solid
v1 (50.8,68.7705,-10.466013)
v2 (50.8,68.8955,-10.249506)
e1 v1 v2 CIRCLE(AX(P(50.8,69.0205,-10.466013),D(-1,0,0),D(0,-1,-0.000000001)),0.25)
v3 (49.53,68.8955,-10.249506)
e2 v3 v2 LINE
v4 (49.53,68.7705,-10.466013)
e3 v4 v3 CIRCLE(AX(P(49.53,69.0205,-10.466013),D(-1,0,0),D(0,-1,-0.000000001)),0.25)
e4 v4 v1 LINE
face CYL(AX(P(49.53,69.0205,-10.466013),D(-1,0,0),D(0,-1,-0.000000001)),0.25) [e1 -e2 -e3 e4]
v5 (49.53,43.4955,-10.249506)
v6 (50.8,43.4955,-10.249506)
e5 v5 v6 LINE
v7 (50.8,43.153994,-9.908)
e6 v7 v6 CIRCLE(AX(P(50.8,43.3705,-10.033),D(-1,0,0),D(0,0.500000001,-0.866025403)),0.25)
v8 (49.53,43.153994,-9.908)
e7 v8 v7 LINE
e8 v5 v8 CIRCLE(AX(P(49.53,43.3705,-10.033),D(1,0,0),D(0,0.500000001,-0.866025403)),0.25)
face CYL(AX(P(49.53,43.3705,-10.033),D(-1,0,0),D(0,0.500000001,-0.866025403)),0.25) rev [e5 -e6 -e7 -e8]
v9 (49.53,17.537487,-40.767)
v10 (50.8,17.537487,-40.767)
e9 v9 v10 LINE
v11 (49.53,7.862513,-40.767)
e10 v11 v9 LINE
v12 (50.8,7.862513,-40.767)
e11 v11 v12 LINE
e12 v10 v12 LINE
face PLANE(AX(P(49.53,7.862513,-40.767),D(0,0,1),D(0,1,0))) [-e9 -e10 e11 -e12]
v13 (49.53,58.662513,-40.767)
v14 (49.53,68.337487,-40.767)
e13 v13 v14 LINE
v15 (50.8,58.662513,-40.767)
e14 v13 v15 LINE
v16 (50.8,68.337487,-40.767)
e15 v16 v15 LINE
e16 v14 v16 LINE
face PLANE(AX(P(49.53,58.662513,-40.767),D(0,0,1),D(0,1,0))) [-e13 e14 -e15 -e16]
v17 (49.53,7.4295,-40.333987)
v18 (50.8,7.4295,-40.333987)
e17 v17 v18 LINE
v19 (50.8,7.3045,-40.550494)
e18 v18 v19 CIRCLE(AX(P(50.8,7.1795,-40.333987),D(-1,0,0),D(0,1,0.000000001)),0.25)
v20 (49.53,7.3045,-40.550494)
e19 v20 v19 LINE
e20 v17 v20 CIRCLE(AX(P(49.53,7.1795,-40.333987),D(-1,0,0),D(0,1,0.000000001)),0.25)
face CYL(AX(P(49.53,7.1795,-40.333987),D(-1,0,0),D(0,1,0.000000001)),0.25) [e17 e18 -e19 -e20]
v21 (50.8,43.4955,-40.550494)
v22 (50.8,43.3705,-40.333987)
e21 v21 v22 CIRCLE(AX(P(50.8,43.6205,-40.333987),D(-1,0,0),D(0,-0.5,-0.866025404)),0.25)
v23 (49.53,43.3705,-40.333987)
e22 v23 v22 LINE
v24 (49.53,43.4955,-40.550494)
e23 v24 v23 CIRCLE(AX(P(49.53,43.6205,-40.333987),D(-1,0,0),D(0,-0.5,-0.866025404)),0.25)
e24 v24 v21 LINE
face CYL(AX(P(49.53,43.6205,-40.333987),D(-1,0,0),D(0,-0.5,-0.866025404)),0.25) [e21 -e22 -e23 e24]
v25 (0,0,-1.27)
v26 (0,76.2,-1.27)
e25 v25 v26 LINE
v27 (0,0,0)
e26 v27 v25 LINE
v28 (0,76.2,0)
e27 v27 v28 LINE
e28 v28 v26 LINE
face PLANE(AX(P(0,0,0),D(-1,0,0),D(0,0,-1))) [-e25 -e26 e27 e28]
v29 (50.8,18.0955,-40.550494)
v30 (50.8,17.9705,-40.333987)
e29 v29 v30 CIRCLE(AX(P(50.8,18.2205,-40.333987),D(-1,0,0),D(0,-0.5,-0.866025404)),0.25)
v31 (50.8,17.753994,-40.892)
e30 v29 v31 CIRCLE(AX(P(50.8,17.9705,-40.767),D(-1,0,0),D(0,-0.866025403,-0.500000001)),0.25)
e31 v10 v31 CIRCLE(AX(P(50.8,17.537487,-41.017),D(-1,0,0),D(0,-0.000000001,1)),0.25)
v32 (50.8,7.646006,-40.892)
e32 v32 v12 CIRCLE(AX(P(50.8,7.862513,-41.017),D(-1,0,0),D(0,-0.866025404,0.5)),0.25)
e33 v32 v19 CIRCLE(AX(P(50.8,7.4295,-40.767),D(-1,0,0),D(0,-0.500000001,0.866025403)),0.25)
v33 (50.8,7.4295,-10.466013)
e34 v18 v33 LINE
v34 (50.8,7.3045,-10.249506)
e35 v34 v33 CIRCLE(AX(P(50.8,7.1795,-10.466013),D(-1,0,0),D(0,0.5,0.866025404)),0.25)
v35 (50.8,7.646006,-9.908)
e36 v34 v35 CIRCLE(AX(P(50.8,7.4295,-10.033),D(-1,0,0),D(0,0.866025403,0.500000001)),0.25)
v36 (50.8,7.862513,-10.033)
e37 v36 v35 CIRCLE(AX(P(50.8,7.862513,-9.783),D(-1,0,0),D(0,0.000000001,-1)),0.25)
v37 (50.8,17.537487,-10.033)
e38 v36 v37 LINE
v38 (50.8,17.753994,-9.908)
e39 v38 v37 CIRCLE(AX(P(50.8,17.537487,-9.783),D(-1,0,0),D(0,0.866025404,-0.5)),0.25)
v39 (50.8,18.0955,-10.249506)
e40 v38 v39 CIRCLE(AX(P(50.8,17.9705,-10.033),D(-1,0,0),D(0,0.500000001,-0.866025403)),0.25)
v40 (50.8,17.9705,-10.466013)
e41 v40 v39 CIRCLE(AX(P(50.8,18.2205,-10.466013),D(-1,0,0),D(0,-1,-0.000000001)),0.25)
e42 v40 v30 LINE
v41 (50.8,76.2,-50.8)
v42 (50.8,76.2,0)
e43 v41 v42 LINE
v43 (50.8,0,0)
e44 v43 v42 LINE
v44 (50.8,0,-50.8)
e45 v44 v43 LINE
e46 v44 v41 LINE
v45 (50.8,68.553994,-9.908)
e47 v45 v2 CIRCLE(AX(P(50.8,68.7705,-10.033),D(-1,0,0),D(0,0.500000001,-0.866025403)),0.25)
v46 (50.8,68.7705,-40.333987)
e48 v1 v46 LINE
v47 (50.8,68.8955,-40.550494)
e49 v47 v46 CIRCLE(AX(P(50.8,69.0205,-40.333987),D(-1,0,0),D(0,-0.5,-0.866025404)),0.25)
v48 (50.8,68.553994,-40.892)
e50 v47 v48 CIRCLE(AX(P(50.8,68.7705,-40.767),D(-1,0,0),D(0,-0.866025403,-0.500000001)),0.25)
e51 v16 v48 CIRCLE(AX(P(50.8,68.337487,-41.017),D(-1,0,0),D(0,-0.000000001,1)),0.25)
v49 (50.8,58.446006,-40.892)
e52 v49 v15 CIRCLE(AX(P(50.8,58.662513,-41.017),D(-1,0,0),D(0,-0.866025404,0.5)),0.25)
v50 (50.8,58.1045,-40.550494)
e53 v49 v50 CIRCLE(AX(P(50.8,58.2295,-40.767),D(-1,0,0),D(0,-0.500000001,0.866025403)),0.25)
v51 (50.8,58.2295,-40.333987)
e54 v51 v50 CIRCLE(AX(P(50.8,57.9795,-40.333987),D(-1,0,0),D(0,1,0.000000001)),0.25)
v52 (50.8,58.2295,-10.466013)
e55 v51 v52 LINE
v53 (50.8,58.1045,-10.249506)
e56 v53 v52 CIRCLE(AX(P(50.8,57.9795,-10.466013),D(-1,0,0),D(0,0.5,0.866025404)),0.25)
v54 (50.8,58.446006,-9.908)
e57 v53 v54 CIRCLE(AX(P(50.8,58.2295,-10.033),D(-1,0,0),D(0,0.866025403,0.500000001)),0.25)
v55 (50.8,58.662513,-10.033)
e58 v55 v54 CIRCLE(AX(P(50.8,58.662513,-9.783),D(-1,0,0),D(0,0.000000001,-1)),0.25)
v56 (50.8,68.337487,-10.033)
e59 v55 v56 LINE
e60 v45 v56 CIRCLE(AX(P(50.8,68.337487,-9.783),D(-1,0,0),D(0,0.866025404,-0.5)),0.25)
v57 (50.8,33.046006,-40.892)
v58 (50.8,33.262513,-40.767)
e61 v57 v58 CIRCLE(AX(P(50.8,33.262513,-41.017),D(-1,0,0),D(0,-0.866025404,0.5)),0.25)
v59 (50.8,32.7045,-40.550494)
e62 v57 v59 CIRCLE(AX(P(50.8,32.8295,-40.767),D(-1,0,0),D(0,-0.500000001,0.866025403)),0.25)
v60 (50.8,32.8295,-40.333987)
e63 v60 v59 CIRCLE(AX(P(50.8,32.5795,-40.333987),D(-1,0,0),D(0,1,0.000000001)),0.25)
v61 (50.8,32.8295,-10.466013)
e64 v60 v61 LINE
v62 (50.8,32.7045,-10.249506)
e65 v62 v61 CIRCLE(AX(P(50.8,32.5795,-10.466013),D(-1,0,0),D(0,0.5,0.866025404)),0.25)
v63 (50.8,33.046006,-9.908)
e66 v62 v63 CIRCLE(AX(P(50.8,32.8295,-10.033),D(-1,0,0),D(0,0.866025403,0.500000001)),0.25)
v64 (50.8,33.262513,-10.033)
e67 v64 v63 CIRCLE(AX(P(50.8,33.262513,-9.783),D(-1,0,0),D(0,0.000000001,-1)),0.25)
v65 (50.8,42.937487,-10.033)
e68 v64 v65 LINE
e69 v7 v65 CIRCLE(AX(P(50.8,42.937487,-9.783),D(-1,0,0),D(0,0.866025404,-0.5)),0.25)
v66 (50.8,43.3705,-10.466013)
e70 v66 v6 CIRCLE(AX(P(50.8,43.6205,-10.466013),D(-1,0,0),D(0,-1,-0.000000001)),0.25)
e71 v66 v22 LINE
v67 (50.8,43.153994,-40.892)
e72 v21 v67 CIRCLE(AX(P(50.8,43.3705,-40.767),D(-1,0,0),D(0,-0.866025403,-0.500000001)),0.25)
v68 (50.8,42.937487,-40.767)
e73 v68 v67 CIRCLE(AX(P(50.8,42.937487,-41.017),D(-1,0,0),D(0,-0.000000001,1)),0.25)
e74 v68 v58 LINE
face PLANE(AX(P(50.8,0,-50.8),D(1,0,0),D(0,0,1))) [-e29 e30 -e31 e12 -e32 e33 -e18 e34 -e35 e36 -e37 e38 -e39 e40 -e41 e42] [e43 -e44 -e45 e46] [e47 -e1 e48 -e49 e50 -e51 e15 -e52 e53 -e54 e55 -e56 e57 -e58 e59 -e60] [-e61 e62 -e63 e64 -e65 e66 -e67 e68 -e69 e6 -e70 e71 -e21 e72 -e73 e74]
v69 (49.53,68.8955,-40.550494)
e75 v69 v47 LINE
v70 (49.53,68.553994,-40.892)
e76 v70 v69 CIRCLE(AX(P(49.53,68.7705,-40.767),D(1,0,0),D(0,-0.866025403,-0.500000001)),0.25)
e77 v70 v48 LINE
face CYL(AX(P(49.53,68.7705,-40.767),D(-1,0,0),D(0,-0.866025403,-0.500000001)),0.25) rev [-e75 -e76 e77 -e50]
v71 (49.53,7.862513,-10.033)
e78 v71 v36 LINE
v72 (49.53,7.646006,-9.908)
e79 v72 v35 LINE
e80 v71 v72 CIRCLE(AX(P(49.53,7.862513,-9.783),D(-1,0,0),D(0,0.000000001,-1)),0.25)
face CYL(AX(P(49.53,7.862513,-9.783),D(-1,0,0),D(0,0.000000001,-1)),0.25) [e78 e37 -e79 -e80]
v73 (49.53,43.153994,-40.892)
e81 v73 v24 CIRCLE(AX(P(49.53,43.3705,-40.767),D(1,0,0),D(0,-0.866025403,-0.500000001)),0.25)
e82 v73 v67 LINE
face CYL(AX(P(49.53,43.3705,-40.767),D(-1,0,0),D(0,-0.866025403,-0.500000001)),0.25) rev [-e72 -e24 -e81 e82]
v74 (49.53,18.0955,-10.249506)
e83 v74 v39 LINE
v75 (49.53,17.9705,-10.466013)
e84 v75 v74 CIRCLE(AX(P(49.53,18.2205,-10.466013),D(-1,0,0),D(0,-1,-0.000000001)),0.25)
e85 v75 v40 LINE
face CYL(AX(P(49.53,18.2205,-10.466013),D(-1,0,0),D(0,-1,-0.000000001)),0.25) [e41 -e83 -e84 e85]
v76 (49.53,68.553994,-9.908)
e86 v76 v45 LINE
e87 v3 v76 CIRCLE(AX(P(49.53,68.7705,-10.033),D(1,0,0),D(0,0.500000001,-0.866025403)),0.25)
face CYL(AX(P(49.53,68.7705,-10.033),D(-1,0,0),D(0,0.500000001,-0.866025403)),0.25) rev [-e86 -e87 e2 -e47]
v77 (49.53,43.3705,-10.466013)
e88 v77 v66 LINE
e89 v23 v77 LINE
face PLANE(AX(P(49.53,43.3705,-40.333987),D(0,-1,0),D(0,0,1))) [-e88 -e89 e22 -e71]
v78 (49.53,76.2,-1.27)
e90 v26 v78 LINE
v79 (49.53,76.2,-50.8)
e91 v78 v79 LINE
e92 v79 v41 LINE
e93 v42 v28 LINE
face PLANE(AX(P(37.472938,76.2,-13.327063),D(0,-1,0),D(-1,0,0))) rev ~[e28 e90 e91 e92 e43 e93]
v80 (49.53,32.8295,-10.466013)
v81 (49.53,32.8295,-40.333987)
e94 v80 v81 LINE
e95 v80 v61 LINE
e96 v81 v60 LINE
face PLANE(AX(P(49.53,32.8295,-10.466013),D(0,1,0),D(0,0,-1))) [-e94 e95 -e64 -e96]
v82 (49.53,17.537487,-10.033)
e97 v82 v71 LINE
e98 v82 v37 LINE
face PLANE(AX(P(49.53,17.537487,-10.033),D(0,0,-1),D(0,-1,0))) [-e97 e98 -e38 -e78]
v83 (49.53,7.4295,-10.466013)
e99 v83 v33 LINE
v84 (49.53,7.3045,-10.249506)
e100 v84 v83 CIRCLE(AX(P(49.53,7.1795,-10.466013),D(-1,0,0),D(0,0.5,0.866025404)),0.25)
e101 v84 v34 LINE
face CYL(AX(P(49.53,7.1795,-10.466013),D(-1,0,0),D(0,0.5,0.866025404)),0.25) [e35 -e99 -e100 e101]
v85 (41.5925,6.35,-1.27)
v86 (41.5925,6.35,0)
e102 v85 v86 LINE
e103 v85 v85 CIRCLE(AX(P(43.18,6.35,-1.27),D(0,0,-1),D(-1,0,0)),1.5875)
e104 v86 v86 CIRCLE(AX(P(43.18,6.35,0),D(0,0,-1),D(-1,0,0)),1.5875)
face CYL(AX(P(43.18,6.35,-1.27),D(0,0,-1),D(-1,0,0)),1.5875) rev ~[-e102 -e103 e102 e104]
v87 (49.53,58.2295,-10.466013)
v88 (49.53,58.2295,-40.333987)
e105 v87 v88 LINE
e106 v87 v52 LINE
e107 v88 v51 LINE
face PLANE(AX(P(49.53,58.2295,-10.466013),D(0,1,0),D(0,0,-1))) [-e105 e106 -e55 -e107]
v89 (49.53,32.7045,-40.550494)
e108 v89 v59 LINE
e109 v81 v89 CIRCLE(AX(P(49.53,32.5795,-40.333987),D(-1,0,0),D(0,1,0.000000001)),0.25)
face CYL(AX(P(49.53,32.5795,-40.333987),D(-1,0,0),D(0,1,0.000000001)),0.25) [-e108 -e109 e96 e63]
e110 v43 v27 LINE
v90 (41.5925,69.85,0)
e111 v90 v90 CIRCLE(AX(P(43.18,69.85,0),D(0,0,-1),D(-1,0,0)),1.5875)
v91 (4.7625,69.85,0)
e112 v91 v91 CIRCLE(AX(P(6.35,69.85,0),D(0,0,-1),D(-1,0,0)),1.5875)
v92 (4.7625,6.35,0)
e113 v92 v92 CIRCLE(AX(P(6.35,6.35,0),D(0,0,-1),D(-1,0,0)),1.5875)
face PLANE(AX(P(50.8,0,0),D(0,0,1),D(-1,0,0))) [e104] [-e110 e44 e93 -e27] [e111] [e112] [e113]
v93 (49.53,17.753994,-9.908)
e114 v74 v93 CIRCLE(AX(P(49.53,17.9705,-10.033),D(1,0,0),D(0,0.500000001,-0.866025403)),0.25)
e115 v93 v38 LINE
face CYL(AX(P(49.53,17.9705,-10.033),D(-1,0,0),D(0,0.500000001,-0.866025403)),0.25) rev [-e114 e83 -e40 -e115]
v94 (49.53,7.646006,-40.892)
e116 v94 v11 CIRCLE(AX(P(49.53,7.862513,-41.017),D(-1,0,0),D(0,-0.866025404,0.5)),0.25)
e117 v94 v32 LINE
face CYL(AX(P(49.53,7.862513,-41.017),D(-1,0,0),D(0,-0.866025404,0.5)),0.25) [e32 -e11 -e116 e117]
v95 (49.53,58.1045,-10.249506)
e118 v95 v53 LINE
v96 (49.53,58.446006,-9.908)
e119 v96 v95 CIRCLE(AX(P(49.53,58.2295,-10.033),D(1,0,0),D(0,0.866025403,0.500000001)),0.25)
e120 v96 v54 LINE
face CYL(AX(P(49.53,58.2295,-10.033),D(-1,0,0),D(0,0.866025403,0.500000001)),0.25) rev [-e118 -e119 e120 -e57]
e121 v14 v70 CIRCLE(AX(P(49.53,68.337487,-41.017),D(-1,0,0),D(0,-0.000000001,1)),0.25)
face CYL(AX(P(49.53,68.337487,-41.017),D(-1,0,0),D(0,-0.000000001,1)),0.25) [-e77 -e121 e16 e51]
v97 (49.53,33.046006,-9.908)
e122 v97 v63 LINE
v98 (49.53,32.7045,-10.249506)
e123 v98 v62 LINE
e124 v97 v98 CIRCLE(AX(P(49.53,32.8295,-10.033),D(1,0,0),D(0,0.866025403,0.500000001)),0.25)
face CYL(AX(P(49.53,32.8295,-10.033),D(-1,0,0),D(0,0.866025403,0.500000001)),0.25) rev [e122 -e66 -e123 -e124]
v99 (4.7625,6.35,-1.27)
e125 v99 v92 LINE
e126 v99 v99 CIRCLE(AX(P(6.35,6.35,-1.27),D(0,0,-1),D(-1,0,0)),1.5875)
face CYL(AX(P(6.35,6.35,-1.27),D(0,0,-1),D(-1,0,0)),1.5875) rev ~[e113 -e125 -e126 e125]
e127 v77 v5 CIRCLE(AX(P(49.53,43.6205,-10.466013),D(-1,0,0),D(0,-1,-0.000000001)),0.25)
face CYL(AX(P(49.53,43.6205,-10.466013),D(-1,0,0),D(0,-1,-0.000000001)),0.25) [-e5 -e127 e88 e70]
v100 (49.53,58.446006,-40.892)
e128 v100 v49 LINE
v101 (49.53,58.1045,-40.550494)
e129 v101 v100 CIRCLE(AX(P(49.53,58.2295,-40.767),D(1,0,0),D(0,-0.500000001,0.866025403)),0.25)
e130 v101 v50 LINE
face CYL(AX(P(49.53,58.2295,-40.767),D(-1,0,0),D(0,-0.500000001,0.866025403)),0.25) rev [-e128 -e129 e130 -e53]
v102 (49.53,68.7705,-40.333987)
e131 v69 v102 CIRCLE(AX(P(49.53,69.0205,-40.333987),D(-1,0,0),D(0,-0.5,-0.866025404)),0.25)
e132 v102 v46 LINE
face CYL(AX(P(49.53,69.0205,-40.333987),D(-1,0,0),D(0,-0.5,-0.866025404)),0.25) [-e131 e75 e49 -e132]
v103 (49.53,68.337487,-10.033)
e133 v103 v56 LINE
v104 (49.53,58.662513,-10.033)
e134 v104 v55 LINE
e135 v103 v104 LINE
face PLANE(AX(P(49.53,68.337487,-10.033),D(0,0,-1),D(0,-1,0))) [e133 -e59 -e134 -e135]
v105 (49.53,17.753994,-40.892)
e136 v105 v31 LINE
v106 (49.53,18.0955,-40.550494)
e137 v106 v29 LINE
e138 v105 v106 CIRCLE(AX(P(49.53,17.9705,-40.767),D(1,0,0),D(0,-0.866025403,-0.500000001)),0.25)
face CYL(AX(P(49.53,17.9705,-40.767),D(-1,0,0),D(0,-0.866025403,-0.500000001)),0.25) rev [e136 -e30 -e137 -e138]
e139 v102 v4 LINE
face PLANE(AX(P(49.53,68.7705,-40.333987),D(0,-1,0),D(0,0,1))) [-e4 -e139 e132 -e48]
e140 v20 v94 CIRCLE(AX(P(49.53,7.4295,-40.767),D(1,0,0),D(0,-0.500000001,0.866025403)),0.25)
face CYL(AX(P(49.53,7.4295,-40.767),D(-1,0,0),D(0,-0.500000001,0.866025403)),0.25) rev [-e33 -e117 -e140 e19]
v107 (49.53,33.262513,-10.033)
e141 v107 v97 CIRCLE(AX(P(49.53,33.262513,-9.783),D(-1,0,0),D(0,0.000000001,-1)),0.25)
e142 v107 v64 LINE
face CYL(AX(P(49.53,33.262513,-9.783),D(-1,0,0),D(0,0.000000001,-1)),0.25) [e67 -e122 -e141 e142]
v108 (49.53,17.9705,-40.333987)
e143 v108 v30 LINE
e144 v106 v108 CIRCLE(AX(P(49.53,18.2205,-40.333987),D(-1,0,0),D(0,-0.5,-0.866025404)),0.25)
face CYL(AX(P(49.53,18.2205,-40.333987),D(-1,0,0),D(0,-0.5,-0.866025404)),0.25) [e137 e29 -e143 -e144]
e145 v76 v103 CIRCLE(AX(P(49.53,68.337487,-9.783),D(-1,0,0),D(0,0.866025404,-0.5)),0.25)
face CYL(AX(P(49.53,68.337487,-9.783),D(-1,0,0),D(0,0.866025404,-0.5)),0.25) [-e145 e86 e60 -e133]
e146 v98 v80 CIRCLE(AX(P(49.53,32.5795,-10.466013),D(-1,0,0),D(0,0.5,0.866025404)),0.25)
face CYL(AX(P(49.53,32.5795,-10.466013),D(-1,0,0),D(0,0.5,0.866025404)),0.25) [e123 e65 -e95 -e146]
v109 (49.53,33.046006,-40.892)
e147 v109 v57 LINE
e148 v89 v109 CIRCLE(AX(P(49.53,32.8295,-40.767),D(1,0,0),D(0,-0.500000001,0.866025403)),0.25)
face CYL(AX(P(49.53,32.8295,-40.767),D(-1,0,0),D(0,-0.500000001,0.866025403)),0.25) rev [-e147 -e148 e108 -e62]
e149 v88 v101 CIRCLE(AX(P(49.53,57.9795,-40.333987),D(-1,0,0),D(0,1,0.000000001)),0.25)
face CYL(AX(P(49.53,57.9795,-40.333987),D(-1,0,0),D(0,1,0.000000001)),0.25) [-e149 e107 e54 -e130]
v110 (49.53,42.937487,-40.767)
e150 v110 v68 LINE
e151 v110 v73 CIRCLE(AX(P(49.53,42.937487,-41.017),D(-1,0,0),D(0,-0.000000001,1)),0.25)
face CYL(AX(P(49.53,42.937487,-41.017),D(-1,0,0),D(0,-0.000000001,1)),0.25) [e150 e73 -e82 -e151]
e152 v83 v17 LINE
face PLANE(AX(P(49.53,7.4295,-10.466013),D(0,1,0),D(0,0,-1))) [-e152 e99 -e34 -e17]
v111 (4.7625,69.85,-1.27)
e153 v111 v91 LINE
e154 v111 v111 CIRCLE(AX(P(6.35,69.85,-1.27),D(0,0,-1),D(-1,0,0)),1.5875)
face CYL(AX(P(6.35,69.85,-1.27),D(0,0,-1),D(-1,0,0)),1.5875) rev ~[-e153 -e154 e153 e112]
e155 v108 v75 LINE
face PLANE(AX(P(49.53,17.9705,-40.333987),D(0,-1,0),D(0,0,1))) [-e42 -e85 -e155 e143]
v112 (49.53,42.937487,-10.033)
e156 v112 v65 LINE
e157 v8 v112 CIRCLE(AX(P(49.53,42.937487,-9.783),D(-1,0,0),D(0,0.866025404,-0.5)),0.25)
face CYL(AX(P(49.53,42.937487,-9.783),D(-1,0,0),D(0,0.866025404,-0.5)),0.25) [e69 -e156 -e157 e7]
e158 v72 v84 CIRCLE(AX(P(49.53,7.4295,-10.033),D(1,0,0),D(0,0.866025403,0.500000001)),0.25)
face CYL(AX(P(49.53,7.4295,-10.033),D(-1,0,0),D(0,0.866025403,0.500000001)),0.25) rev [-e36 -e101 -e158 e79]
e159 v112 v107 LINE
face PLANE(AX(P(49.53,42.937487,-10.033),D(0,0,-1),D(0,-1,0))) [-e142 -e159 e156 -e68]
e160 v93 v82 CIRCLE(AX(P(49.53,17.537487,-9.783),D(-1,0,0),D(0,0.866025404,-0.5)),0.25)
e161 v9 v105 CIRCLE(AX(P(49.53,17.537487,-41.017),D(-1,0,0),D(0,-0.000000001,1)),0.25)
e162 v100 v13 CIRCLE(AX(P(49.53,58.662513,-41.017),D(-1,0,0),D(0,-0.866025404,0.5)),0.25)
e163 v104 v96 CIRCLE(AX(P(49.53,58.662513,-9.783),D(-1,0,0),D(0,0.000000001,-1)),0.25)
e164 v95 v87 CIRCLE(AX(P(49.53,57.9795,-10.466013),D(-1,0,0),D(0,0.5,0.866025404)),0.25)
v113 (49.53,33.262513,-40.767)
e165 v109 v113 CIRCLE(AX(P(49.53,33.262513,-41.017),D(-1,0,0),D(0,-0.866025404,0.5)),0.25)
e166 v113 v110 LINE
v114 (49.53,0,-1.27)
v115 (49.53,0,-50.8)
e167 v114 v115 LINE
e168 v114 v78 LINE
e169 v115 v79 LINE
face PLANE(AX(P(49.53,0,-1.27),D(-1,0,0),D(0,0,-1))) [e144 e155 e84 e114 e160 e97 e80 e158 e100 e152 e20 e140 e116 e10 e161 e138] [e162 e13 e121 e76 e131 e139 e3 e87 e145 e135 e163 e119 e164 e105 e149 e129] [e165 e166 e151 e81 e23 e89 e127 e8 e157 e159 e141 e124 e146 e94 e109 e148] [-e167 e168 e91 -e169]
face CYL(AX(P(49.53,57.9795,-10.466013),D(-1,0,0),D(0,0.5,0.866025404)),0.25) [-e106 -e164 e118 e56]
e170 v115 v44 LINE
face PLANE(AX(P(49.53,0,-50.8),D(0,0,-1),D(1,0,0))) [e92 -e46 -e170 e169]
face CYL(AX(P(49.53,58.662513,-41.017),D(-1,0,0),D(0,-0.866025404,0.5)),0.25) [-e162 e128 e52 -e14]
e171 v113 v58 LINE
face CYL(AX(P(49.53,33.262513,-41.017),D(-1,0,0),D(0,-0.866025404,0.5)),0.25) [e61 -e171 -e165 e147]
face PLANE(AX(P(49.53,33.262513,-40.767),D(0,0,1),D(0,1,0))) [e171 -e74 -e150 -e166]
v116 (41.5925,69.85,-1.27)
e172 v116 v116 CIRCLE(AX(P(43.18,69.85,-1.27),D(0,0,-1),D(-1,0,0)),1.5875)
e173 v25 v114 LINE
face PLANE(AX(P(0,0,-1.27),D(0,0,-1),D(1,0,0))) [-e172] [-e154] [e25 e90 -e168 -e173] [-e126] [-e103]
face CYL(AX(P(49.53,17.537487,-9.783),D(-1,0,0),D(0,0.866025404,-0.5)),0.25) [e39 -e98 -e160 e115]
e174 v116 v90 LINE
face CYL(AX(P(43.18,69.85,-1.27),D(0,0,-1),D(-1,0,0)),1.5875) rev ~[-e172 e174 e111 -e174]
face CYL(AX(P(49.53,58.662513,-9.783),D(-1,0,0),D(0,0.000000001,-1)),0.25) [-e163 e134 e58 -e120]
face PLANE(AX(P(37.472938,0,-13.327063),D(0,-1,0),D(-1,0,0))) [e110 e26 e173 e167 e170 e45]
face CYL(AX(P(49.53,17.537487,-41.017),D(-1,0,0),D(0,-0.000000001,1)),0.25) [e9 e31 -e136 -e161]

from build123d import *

# Parameters (mm, degrees)
BOSS_EXTRUDE1_DEPTH = 76.2
CUT_EXTRUDE1_DEPTH  = 105.116765701
SKETCH3_R           = 1.5875
CUT_EXTRUDE2_DEPTH  = 105.116765701


with BuildPart() as part:
    # Sketch1 → Boss-Extrude1 (new body)
    with BuildSketch(Plane(origin=(0, 0, 0), x_dir=(1, 0, 0), z_dir=(0, 1, 0))):
        Polygon((0, 0), (0, 1.27), (49.53, 1.27), (49.53, 50.8), (50.8, 50.8), (50.8, 0), align=None)
    extrude(amount=BOSS_EXTRUDE1_DEPTH)

    # Sketch2 → Cut-Extrude1 (cut, through all)
    with BuildSketch(Plane.ZY.offset(-49.53)):
        with BuildLine():
            ThreePointArc((-9.908, 58.446006351), (-9.856223305, 58.052723305), (-10.249506351, 58.1045))
            ThreePointArc((-10.249506351, 58.1045), (-10.341012702, 58.196006351), (-10.466012702, 58.2295))
            Line((-10.466012702, 58.2295), (-40.333987298, 58.2295))
            ThreePointArc((-40.333987298, 58.2295), (-40.458987298, 58.196006351), (-40.550493649, 58.1045))
            ThreePointArc((-40.550493649, 58.1045), (-40.943776695, 58.052723305), (-40.892, 58.446006351))
            ThreePointArc((-40.892, 58.446006351), (-40.800493649, 58.537512702), (-40.767, 58.662512702))
            Line((-40.767, 58.662512702), (-40.767, 68.337487298))
            ThreePointArc((-40.767, 68.337487298), (-40.800493649, 68.462487298), (-40.892, 68.553993649))
            ThreePointArc((-40.892, 68.553993649), (-40.943776695, 68.947276695), (-40.550493649, 68.8955))
            ThreePointArc((-40.550493649, 68.8955), (-40.458987298, 68.803993649), (-40.333987298, 68.7705))
            Line((-40.333987298, 68.7705), (-10.466012702, 68.7705))
            ThreePointArc((-10.466012702, 68.7705), (-10.341012702, 68.803993649), (-10.249506351, 68.8955))
            ThreePointArc((-10.249506351, 68.8955), (-9.856223305, 68.947276695), (-9.908, 68.553993649))
            ThreePointArc((-9.908, 68.553993649), (-9.999506351, 68.462487298), (-10.033, 68.337487298))
            Line((-10.033, 68.337487298), (-10.033, 58.662512702))
            ThreePointArc((-10.033, 58.662512702), (-9.999506351, 58.537512702), (-9.908, 58.446006351))
        make_face()
        with BuildLine():
            ThreePointArc((-9.908, 33.046006351), (-9.856223305, 32.652723305), (-10.249506351, 32.7045))
            ThreePointArc((-10.249506351, 32.7045), (-10.341012702, 32.796006351), (-10.466012702, 32.8295))
            Line((-10.466012702, 32.8295), (-40.333987298, 32.8295))
            ThreePointArc((-40.333987298, 32.8295), (-40.458987298, 32.796006351), (-40.550493649, 32.7045))
            ThreePointArc((-40.550493649, 32.7045), (-40.943776695, 32.652723305), (-40.892, 33.046006351))
            ThreePointArc((-40.892, 33.046006351), (-40.800493649, 33.137512702), (-40.767, 33.262512702))
            Line((-40.767, 33.262512702), (-40.767, 42.937487298))
            ThreePointArc((-40.767, 42.937487298), (-40.800493649, 43.062487298), (-40.892, 43.153993649))
            ThreePointArc((-40.892, 43.153993649), (-40.943776695, 43.547276695), (-40.550493649, 43.4955))
            ThreePointArc((-40.550493649, 43.4955), (-40.458987298, 43.403993649), (-40.333987298, 43.3705))
            Line((-40.333987298, 43.3705), (-10.466012702, 43.3705))
            ThreePointArc((-10.466012702, 43.3705), (-10.341012702, 43.403993649), (-10.249506351, 43.4955))
            ThreePointArc((-10.249506351, 43.4955), (-9.856223305, 43.547276695), (-9.908, 43.153993649))
            ThreePointArc((-9.908, 43.153993649), (-9.999506351, 43.062487298), (-10.033, 42.937487298))
            Line((-10.033, 42.937487298), (-10.033, 33.262512702))
            ThreePointArc((-10.033, 33.262512702), (-9.999506351, 33.137512702), (-9.908, 33.046006351))
        make_face()
        with BuildLine():
            ThreePointArc((-9.908, 7.646006351), (-9.856223305, 7.252723305), (-10.249506351, 7.3045))
            ThreePointArc((-10.249506351, 7.3045), (-10.341012702, 7.396006351), (-10.466012702, 7.4295))
            Line((-10.466012702, 7.4295), (-40.333987298, 7.4295))
            ThreePointArc((-40.333987298, 7.4295), (-40.458987298, 7.396006351), (-40.550493649, 7.3045))
            ThreePointArc((-40.550493649, 7.3045), (-40.943776695, 7.252723305), (-40.892, 7.646006351))
            ThreePointArc((-40.892, 7.646006351), (-40.800493649, 7.737512702), (-40.767, 7.862512702))
            Line((-40.767, 7.862512702), (-40.767, 17.537487298))
            ThreePointArc((-40.767, 17.537487298), (-40.800493649, 17.662487298), (-40.892, 17.753993649))
            ThreePointArc((-40.892, 17.753993649), (-40.943776695, 18.147276695), (-40.550493649, 18.0955))
            ThreePointArc((-40.550493649, 18.0955), (-40.458987298, 18.003993649), (-40.333987298, 17.9705))
            Line((-40.333987298, 17.9705), (-10.466012702, 17.9705))
            ThreePointArc((-10.466012702, 17.9705), (-10.341012702, 18.003993649), (-10.249506351, 18.0955))
            ThreePointArc((-10.249506351, 18.0955), (-9.856223305, 18.147276695), (-9.908, 17.753993649))
            ThreePointArc((-9.908, 17.753993649), (-9.999506351, 17.662487298), (-10.033, 17.537487298))
            Line((-10.033, 17.537487298), (-10.033, 7.862512702))
            ThreePointArc((-10.033, 7.862512702), (-9.999506351, 7.737512702), (-9.908, 7.646006351))
        make_face()
    extrude(amount=-CUT_EXTRUDE1_DEPTH, mode=Mode.SUBTRACT)

    # Sketch3 → Cut-Extrude2 (cut, through all)
    with BuildSketch(Plane(origin=(0, 0, -1.27), x_dir=(-1, 0, 0), z_dir=(0, 0, -1))):
        with Locations((-6.35, 69.85)):
            Circle(SKETCH3_R)
        with Locations((-6.35, 6.35)):
            Circle(SKETCH3_R)
        with Locations((-43.18, 6.35)):
            Circle(SKETCH3_R)
        with Locations((-43.18, 69.85)):
            Circle(SKETCH3_R)
    extrude(amount=-CUT_EXTRUDE2_DEPTH, mode=Mode.SUBTRACT)


solid = part.part
